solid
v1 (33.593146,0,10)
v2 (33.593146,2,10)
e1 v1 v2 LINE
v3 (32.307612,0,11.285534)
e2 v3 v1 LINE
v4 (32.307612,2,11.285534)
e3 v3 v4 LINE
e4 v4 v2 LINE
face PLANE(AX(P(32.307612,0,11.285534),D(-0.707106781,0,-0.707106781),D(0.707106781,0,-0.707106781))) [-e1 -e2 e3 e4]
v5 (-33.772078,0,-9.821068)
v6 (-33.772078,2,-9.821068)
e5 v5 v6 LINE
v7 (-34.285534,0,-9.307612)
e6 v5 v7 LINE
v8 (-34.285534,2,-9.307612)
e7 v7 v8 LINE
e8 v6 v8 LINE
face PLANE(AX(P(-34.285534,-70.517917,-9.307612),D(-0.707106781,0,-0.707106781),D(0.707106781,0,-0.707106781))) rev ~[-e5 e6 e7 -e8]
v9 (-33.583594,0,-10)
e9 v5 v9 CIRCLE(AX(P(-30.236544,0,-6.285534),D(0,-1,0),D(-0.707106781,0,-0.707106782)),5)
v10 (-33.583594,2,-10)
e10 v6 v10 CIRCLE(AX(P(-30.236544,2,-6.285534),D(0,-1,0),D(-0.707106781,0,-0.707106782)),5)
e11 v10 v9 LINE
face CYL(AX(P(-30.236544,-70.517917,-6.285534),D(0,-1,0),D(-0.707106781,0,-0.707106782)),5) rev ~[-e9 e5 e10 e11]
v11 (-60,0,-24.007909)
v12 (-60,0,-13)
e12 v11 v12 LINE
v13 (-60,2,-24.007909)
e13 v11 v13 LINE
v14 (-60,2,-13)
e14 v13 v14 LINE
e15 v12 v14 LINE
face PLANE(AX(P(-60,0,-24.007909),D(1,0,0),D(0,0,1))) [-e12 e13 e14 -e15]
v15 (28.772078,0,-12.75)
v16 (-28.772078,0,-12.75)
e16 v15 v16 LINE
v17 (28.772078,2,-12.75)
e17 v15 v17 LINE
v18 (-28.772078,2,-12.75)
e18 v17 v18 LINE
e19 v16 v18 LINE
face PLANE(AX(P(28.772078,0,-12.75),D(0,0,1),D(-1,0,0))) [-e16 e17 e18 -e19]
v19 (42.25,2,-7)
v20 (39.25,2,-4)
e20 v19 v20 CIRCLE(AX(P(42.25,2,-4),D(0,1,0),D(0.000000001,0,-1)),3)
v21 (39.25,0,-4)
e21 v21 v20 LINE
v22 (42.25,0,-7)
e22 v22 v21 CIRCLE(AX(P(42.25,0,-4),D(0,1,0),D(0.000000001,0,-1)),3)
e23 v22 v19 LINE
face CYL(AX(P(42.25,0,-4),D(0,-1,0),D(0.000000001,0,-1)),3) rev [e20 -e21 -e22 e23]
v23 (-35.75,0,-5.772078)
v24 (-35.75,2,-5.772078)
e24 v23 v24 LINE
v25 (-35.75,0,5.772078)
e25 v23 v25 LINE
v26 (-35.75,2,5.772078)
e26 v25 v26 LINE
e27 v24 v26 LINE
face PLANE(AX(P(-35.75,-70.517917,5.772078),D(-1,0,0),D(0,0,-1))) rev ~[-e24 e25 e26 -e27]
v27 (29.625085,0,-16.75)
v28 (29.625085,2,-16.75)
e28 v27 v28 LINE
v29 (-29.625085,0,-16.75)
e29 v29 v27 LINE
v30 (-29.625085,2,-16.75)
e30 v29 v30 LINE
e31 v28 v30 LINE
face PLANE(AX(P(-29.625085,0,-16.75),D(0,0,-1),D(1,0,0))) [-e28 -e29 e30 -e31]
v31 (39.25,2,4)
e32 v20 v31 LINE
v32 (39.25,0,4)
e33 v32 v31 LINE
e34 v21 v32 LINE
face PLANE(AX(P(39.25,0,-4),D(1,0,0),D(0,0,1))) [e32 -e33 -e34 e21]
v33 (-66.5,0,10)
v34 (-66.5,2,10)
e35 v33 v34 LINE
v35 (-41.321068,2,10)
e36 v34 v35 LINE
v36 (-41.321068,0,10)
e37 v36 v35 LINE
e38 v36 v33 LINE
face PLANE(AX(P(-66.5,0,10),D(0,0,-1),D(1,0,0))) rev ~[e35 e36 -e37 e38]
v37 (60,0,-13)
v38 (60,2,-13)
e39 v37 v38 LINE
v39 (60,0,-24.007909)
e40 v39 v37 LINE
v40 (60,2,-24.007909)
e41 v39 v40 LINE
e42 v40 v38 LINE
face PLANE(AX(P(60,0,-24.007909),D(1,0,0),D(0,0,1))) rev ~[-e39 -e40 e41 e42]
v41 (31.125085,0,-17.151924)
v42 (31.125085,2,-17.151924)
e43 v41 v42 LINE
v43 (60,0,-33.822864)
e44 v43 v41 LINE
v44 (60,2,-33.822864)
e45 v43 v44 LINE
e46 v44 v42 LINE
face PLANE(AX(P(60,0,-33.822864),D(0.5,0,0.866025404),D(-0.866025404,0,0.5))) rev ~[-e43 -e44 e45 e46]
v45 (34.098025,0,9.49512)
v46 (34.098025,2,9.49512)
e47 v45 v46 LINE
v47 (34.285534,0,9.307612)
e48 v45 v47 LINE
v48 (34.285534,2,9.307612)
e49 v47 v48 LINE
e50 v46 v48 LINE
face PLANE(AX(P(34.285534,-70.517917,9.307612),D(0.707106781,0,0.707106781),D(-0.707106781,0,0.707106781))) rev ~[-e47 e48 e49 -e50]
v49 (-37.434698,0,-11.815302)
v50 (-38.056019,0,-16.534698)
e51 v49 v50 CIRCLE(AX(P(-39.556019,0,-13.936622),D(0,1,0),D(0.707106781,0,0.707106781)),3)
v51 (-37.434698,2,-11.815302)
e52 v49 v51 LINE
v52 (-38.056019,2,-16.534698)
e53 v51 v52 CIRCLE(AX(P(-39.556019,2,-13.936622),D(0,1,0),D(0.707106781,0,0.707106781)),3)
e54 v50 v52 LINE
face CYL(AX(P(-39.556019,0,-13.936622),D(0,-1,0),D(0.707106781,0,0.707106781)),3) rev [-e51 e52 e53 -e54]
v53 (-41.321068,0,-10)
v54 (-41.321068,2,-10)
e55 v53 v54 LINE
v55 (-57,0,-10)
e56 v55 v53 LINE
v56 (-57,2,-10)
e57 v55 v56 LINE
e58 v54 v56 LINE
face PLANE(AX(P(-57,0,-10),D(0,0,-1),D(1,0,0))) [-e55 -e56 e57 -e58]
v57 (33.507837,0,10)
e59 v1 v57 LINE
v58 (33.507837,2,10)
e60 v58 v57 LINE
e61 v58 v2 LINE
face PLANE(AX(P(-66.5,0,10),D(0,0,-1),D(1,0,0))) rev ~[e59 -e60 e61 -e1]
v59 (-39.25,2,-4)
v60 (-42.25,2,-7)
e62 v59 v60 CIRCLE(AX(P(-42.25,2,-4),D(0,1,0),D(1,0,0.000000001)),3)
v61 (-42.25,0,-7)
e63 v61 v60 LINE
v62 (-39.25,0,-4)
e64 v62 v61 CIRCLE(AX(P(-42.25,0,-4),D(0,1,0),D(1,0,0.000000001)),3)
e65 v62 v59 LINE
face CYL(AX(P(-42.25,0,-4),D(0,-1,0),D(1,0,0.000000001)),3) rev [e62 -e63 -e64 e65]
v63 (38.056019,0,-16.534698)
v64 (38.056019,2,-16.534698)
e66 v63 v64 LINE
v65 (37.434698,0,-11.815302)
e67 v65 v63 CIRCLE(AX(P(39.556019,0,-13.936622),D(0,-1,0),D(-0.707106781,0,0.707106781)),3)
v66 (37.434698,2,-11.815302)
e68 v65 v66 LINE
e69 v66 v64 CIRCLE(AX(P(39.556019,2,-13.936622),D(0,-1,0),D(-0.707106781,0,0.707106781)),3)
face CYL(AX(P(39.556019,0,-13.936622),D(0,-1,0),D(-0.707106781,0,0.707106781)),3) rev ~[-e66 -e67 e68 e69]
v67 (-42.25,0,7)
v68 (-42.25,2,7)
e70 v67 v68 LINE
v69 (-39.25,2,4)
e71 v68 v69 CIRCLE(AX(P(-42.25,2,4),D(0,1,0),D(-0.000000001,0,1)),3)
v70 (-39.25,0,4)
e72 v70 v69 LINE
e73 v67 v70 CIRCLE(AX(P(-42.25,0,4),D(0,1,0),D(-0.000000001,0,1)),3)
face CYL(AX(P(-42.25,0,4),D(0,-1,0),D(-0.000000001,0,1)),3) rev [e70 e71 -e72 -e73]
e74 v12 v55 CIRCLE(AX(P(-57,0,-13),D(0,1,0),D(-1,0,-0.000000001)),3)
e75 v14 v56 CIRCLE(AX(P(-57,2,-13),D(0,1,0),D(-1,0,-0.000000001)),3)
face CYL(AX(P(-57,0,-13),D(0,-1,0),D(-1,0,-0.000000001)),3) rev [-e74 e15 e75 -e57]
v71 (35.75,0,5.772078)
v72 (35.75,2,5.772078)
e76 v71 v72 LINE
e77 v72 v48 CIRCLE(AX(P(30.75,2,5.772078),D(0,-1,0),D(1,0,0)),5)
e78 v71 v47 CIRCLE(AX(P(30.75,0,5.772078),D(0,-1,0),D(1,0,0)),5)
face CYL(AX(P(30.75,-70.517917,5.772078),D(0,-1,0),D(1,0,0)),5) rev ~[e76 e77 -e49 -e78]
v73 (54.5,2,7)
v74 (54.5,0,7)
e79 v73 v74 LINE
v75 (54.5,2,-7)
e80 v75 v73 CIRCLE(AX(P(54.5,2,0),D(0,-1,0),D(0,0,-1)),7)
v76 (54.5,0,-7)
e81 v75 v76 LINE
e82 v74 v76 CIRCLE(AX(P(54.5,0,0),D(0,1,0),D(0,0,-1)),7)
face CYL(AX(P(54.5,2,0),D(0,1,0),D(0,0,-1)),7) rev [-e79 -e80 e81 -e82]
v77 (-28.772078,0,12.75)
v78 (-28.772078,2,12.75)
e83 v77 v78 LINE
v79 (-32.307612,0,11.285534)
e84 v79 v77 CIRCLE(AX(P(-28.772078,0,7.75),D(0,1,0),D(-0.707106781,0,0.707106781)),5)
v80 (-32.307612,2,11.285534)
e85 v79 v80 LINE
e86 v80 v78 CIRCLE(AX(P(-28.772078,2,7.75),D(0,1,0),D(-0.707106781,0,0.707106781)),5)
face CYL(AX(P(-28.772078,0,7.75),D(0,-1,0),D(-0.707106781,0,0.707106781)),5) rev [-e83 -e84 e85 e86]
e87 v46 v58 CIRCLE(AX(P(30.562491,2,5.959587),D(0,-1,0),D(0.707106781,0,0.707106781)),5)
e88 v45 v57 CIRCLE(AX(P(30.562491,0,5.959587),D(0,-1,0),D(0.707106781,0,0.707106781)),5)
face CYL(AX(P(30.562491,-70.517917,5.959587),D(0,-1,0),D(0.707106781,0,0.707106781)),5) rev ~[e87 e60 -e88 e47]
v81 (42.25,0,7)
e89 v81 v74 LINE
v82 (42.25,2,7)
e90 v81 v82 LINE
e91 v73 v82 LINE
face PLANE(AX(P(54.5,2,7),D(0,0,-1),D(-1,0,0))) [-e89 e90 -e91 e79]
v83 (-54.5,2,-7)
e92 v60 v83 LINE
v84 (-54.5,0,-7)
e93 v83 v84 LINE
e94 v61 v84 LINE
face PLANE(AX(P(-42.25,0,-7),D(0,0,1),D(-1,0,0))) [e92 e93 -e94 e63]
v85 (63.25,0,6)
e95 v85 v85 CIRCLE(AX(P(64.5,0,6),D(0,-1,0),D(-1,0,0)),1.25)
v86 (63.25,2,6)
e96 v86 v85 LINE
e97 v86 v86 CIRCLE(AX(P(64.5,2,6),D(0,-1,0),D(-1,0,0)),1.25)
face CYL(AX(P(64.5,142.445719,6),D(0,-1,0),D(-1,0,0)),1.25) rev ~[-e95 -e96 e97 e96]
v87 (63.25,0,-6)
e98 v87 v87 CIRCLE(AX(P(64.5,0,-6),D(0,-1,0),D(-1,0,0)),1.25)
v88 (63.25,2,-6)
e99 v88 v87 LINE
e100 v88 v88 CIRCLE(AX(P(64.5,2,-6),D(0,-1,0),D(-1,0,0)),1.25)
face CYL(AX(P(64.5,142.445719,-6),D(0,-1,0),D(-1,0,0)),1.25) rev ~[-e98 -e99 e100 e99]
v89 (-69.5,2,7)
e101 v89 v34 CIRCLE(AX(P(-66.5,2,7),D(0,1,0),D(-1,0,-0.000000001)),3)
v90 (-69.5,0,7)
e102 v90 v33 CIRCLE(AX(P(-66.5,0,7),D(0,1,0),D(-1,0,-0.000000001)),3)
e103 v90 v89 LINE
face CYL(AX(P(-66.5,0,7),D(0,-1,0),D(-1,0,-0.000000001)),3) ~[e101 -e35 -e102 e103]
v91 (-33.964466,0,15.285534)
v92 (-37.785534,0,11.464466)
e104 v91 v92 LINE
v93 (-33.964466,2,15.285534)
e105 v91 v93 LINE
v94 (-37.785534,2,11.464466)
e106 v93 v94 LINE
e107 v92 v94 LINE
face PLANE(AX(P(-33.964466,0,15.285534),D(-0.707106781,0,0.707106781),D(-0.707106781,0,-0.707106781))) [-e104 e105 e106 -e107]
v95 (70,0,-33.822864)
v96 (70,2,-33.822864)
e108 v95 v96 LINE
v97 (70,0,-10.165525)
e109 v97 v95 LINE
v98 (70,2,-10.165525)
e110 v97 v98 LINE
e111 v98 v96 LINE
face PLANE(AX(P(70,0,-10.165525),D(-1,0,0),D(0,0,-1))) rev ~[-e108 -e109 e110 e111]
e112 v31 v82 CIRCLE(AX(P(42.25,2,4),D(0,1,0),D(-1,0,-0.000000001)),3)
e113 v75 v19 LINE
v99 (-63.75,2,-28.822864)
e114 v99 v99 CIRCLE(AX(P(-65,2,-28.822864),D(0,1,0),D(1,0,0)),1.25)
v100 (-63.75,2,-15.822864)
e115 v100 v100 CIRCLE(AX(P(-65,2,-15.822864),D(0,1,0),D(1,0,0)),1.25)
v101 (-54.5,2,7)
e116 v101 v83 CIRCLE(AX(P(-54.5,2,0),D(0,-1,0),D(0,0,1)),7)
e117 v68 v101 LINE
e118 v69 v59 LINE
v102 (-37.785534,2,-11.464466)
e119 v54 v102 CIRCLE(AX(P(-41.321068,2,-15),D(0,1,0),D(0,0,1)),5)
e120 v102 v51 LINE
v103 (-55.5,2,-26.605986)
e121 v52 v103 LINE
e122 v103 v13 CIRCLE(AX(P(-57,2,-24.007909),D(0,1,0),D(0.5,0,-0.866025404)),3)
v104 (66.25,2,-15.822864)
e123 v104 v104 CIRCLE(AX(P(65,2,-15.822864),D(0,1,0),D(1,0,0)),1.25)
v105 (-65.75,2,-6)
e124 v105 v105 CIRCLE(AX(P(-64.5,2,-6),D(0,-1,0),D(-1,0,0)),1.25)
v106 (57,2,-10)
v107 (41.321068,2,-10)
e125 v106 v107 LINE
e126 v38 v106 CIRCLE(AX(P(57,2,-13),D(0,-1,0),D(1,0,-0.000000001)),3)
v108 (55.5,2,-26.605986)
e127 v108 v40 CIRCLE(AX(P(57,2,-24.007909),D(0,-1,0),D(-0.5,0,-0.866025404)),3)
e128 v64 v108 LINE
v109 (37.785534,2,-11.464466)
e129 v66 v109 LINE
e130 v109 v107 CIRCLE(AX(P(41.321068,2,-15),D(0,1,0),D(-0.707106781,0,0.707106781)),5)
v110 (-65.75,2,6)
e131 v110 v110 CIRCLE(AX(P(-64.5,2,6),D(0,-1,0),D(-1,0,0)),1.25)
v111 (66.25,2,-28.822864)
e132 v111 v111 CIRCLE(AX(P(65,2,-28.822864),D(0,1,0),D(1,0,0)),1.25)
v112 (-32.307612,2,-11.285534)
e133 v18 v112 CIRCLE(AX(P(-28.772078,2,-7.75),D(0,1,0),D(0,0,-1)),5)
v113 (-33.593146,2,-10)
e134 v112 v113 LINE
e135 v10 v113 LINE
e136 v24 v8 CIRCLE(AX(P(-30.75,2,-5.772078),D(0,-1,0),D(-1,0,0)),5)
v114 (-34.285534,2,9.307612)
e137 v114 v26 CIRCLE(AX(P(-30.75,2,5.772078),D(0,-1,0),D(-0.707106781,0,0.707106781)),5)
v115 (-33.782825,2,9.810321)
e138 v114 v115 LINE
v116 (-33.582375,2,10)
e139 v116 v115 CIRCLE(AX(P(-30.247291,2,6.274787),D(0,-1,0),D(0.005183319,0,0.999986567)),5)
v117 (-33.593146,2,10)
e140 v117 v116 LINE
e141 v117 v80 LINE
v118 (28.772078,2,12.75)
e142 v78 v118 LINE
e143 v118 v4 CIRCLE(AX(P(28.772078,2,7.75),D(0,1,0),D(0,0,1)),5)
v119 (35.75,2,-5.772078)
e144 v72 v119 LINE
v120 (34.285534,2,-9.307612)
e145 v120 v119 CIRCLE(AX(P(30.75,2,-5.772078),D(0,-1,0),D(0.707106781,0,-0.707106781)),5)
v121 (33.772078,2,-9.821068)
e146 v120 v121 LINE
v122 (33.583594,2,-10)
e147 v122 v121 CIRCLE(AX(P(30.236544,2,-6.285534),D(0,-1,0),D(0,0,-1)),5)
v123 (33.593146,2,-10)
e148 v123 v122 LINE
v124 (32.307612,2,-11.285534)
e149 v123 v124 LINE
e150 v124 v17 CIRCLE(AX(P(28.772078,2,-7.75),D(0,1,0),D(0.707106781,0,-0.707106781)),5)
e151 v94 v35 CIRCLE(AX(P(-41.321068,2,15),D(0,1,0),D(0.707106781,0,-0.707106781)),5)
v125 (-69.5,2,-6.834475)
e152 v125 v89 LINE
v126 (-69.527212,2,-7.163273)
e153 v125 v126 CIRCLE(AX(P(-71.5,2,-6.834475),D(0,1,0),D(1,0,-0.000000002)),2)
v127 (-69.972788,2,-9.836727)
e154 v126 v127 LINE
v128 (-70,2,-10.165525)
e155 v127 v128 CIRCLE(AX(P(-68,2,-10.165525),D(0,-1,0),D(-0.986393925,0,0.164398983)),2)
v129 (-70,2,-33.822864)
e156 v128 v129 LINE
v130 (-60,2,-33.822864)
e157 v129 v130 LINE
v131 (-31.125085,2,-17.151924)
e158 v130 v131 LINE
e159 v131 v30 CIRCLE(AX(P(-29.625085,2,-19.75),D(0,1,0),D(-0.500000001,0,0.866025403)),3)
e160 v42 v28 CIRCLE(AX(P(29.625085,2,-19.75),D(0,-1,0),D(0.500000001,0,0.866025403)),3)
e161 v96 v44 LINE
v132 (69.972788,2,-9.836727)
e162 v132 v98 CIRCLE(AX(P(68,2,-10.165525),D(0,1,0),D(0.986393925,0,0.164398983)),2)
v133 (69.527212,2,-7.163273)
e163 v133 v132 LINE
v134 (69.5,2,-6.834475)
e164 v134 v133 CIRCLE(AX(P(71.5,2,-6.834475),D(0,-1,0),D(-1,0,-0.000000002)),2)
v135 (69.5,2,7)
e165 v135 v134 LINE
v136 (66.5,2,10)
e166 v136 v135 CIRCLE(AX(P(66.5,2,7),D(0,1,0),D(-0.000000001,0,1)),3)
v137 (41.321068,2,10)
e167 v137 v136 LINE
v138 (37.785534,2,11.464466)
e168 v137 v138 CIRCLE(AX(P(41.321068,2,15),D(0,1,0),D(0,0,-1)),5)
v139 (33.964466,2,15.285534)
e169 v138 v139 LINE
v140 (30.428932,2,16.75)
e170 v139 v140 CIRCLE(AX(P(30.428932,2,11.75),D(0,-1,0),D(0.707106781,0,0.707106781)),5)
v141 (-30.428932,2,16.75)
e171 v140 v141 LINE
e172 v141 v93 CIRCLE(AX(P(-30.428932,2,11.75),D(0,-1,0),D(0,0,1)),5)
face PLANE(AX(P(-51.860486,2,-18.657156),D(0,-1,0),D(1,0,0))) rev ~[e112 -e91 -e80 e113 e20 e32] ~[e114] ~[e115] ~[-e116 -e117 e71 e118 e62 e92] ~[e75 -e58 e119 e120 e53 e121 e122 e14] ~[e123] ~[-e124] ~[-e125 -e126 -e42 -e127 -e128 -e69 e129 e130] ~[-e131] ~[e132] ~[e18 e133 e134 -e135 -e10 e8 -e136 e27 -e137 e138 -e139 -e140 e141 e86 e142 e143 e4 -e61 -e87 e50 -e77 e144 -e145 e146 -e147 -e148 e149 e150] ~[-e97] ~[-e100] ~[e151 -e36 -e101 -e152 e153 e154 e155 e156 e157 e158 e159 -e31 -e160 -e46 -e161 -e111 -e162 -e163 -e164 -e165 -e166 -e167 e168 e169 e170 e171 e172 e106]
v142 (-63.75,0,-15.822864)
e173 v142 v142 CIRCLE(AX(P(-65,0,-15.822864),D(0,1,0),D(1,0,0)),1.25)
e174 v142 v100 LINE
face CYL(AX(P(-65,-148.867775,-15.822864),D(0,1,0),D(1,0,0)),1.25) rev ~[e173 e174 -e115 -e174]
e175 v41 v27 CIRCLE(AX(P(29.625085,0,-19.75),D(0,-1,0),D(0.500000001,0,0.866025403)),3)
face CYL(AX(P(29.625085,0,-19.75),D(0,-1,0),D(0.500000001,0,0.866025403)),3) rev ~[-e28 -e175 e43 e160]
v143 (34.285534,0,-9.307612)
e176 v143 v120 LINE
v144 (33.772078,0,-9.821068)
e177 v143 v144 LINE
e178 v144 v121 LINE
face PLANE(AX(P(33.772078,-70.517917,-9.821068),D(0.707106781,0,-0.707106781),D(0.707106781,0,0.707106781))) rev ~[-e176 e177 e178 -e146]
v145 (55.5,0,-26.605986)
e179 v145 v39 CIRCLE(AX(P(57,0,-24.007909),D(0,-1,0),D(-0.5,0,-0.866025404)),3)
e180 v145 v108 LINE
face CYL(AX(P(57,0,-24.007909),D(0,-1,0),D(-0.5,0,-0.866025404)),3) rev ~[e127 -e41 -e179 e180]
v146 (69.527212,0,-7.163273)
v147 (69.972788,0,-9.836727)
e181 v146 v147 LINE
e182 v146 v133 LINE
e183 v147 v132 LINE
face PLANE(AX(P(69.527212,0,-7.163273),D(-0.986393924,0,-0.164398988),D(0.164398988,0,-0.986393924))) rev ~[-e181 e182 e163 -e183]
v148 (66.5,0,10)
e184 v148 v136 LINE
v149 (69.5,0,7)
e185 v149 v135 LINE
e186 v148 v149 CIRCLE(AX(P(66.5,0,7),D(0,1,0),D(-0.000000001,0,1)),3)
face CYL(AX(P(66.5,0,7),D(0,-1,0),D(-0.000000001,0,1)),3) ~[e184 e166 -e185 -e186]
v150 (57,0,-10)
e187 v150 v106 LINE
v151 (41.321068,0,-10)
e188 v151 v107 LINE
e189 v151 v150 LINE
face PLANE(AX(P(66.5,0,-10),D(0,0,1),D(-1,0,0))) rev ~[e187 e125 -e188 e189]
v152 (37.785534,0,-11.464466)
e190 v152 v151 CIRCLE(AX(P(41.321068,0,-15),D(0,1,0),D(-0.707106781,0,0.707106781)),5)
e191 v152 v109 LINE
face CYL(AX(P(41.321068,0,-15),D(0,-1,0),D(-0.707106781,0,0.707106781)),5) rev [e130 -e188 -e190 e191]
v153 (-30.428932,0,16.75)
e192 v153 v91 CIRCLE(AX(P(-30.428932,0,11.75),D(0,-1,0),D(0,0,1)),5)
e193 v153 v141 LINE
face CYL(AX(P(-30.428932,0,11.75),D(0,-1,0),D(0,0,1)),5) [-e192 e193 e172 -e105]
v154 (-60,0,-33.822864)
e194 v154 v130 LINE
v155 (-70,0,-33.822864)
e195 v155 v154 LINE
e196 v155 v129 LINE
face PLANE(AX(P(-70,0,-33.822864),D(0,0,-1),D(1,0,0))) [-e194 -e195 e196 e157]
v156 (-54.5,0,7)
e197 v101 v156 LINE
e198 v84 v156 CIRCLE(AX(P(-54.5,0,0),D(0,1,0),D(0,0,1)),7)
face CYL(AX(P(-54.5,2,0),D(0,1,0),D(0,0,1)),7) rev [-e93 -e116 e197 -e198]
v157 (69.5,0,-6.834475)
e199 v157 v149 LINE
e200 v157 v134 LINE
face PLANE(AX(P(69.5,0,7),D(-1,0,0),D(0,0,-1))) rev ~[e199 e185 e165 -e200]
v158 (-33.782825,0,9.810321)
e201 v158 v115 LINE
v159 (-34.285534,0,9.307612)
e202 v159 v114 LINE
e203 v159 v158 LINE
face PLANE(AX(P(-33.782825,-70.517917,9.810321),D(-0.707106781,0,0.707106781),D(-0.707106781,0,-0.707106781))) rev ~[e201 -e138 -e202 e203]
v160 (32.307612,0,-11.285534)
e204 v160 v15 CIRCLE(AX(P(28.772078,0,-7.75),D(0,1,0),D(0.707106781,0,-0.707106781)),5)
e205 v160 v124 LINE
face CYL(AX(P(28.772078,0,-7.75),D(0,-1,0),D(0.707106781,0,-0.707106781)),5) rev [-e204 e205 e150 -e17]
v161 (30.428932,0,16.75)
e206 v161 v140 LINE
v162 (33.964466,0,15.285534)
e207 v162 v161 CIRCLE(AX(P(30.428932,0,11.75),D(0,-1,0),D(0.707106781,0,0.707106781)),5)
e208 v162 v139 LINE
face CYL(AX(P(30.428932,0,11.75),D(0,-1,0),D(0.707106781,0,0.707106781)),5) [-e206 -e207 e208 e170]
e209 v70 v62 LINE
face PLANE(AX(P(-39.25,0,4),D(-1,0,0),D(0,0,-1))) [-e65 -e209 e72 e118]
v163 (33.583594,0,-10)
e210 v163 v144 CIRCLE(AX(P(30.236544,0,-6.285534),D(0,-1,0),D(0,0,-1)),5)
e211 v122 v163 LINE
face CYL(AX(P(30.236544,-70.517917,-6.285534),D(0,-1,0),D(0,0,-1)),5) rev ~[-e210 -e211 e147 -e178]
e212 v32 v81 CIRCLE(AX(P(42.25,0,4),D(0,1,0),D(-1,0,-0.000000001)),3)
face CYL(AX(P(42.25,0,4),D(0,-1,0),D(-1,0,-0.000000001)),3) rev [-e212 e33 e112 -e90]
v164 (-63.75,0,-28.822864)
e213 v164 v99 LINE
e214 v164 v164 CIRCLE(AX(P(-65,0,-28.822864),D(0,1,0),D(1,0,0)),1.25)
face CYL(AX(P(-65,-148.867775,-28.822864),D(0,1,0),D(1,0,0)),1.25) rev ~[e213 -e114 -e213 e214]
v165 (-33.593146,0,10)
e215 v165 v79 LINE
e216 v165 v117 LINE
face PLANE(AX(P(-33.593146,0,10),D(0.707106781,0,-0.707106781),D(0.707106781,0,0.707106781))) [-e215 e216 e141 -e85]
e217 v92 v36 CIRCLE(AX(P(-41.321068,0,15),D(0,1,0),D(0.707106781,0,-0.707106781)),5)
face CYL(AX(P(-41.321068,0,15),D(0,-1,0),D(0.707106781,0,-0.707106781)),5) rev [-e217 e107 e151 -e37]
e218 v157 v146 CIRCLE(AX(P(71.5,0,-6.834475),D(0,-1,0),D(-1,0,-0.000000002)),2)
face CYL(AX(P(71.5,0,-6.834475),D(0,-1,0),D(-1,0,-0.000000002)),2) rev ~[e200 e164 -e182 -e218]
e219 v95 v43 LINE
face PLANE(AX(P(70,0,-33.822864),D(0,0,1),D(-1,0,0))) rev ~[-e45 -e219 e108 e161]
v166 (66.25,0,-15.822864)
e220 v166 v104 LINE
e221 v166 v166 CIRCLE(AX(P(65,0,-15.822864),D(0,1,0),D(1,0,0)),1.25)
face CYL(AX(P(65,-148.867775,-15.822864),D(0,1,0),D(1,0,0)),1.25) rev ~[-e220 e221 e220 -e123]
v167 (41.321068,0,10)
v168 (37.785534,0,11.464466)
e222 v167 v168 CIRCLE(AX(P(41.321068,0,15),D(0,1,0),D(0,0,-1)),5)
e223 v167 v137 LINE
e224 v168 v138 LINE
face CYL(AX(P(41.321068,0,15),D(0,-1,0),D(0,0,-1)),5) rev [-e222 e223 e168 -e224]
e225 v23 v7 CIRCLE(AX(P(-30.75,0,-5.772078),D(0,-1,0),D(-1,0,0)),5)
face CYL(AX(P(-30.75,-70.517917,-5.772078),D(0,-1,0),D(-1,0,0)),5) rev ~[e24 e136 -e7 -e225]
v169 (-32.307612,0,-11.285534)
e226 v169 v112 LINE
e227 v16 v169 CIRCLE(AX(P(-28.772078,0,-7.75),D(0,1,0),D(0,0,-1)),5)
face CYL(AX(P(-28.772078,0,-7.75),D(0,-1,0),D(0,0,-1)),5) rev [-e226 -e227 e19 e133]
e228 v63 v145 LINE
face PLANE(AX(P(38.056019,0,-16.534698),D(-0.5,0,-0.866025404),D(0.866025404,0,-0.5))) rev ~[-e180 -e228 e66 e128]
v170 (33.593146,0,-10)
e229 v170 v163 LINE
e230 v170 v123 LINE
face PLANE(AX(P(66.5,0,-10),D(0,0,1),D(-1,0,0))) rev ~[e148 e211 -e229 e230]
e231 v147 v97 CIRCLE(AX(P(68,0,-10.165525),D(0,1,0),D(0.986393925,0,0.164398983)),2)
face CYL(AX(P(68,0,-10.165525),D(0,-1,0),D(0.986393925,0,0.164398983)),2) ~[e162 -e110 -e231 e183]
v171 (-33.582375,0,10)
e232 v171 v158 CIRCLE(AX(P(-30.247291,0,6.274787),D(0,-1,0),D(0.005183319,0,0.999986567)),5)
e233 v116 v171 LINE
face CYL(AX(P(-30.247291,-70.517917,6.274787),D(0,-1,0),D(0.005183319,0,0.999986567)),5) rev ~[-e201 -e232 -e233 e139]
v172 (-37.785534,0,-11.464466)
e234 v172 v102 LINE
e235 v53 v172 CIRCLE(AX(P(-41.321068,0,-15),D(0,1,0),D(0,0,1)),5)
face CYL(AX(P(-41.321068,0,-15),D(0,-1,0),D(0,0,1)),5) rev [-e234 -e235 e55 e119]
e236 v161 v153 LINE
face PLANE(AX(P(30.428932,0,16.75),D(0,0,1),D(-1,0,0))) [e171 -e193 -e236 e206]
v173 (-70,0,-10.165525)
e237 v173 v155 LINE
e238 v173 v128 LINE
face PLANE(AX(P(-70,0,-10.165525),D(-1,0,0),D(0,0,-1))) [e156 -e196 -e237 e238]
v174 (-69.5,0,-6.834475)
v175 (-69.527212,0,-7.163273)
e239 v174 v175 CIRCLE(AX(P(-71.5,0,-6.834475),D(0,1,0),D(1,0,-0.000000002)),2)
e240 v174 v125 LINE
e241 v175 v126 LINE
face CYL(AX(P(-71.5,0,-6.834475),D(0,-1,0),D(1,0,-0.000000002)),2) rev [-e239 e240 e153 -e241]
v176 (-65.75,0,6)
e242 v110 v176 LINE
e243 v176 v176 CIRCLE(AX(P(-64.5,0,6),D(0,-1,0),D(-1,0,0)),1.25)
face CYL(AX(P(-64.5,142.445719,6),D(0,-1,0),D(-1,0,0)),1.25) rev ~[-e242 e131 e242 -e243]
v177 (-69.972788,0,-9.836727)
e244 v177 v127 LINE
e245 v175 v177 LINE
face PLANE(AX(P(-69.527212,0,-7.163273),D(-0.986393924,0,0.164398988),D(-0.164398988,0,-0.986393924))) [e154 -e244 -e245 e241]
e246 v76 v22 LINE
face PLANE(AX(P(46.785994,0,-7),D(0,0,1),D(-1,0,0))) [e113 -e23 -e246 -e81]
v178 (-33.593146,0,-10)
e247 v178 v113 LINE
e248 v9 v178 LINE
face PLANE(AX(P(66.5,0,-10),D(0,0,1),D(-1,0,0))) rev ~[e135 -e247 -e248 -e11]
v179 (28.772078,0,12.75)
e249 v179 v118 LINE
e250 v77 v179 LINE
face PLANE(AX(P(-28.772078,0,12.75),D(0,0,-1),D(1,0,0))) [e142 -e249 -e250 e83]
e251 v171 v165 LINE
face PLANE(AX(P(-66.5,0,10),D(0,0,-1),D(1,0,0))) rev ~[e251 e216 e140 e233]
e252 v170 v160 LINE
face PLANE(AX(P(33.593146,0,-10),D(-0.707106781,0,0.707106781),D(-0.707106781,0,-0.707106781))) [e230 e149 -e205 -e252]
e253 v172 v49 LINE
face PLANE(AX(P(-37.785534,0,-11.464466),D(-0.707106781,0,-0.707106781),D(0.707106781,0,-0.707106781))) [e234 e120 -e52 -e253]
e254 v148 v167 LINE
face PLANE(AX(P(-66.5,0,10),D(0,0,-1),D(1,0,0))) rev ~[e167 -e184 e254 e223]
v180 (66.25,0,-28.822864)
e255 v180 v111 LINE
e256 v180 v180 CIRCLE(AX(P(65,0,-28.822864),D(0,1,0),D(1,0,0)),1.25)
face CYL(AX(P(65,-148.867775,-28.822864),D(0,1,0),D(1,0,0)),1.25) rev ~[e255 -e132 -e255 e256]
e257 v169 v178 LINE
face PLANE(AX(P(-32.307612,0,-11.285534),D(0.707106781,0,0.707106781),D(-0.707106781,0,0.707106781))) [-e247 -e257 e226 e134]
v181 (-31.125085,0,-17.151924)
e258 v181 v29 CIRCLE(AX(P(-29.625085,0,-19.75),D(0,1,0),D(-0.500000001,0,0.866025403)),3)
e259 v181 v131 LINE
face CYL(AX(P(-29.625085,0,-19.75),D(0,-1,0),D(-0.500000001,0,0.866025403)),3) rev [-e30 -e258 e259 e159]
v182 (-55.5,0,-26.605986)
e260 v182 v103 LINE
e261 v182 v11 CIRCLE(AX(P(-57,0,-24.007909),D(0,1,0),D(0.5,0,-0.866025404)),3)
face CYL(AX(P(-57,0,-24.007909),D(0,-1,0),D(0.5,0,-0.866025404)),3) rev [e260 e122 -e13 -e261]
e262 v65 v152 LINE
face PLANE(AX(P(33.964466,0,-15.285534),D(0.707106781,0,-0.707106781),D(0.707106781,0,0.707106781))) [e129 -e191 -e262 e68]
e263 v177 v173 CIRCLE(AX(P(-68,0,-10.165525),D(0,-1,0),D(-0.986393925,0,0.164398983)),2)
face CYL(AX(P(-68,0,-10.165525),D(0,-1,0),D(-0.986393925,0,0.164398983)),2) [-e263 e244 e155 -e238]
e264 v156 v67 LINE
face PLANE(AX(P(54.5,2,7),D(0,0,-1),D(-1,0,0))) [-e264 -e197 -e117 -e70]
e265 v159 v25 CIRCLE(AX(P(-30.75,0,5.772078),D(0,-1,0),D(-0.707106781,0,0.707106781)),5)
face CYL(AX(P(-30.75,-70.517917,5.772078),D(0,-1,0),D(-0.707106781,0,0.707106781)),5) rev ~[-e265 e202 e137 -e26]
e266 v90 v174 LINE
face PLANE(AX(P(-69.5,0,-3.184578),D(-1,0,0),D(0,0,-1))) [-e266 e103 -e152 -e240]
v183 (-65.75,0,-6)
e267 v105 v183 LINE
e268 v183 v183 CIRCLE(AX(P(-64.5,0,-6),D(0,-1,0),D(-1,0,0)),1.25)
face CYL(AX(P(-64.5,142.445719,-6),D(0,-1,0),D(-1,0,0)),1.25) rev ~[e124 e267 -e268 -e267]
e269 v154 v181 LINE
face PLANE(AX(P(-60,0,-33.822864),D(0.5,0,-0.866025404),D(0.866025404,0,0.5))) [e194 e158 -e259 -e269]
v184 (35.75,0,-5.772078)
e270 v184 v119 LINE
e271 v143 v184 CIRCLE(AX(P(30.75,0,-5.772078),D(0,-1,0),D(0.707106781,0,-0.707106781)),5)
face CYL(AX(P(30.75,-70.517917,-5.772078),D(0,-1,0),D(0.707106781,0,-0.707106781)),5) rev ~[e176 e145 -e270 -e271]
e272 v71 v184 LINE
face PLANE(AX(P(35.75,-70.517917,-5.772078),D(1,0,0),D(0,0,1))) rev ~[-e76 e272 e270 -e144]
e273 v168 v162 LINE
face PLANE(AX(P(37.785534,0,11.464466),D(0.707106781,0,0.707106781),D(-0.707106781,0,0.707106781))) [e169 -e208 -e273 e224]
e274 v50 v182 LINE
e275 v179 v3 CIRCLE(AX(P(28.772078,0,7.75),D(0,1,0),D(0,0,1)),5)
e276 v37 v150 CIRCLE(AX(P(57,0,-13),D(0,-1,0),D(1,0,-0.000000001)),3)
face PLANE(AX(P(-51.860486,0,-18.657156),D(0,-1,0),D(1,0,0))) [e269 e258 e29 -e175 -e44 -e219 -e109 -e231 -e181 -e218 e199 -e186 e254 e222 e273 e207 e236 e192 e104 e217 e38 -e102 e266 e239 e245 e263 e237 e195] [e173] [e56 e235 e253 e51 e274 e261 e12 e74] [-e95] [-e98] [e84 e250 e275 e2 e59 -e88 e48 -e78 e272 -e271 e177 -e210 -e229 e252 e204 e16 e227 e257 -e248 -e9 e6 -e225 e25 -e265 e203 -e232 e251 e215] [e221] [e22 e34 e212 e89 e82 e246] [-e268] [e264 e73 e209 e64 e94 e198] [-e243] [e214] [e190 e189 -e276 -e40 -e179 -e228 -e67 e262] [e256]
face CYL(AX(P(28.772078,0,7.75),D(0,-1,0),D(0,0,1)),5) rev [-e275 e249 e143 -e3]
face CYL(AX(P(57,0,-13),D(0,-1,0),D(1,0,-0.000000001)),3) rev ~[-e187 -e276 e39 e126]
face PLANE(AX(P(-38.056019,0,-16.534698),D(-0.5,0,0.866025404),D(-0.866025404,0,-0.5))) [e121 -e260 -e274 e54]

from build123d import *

# Parameters (mm, degrees)
EXTRUDE_1_DEPTH          = 2
HOLE_WIZARD_1_D          = 2.5
CUT_EXTRUDE_1_DEPTH      = 71.244216844
EXTRUDE_2_DEPTH          = 2
CUT_EXTRUDE_2_DEPTH      = 71.244216844
CUT_EXTRUDE_2_DEPTH_BACK = 71.244216844
EXTRUDE_3_DEPTH          = 2
CUT_EXTRUDE_3_DEPTH      = 72.517917335
CUT_EXTRUDE_3_DEPTH_BACK = 72.517917335
EXTRUDE_4_DEPTH          = 2
HOLE_WIZARD_2_D          = 2.5


with BuildPart() as part:
    # 草图1 → 凸台-拉伸1 (new body)
    with BuildSketch(Plane(origin=(0, 0, 0), x_dir=(1, 0, 0), z_dir=(0, 1, 0))):
        with BuildLine():
            Line((66.5, 10), (-66.5, 10))
            ThreePointArc((-66.5, 10), (-68.621320344, 9.121320344), (-69.5, 7))
            Line((-69.5, 7), (-69.5, -7))
            ThreePointArc((-69.5, -7), (-68.621320344, -9.121320344), (-66.5, -10))
            Line((-66.5, -10), (66.5, -10))
            ThreePointArc((66.5, -10), (68.621320344, -9.121320344), (69.5, -7))
            Line((69.5, -7), (69.5, 7))
            ThreePointArc((69.5, 7), (68.621320344, 9.121320344), (66.5, 10))
        make_face()
    extrude(amount=EXTRUDE_1_DEPTH)

    # 孔1 (through all)
    with Locations(Plane(origin=(0, 2, 0), x_dir=(1, 0, 0), z_dir=(0, 1, 0))):
        with Locations((-64.5, 6), (-64.5, -6), (64.5, -6), (64.5, 6)):
            Hole(HOLE_WIZARD_1_D / 2)

    # 草图5 → 切除-拉伸1 (cut, through all)
    with BuildSketch(Plane(origin=(0, 2, 0), x_dir=(1, 0, 0), z_dir=(0, 1, 0))):
        with BuildLine():
            Line((-54.5, 7), (54.5, 7))
            ThreePointArc((54.5, 7), (61.5, 0), (54.5, -7))
            Line((54.5, -7), (-54.5, -7))
            ThreePointArc((-54.5, -7), (-61.5, 0), (-54.5, 7))
        make_face()
    extrude(amount=-CUT_EXTRUDE_1_DEPTH, mode=Mode.SUBTRACT)

    # 草图6 → 凸台-拉伸2 (add)
    with BuildSketch(Plane.XZ):
        with BuildLine():
            Line((-39.249952973, -9.999988019), (39.249952973, -9.999988019))
            Line((39.249952973, -9.999988019), (46.785993788, -7))
            Line((46.785993788, -7), (42.25, -7))
            ThreePointArc((42.25, -7), (40.128679656, -6.121320344), (39.25, -4))
            Line((39.25, -4), (39.25, 4))
            ThreePointArc((39.25, 4), (40.128679656, 6.121320344), (42.25, 7))
            Line((42.25, 7), (46.785993788, 7))
            Line((46.785993788, 7), (39.25, 10))
            Line((39.25, 10), (-39.25, 10))
            Line((-39.25, 10), (-46.786070913, 7))
            Line((-46.786070913, 7), (-42.25, 7))
            ThreePointArc((-42.25, 7), (-40.128679656, 6.121320344), (-39.25, 4))
            Line((-39.25, 4), (-39.25, -4))
            ThreePointArc((-39.25, -4), (-40.128679656, -6.121320344), (-42.25, -7))
            Line((-42.25, -7), (-46.49444439, -7))
            Line((-46.49444439, -7), (-39.249952973, -9.999988019))
        make_face()
    extrude(amount=-EXTRUDE_2_DEPTH)

    # 草图7 → 切除-拉伸2 (cut, two sides: drawn at the far end of the back side and taken through both)
    with BuildSketch(Plane.XZ.offset(-CUT_EXTRUDE_2_DEPTH_BACK)):
        with BuildLine():
            Line((34.25, -1.5), (-34.25, -1.5))
            ThreePointArc((-34.25, -1.5), (-35.75, 0), (-34.25, 1.5))
            Line((-34.25, 1.5), (34.25, 1.5))
            ThreePointArc((34.25, 1.5), (35.75, 0), (34.25, -1.5))
        make_face()
        with BuildLine():
            Line((34.25, 4), (-34.25, 4))
            ThreePointArc((-34.25, 4), (-35.75, 5.5), (-34.25, 7))
            Line((-34.25, 7), (34.25, 7))
            ThreePointArc((34.25, 7), (35.75, 5.5), (34.25, 4))
        make_face()
        with BuildLine():
            Line((34.25, -7), (-34.25, -7))
            ThreePointArc((-34.25, -7), (-35.75, -5.5), (-34.25, -4))
            Line((-34.25, -4), (34.25, -4))
            ThreePointArc((34.25, -4), (35.75, -5.5), (34.25, -7))
        make_face()
    extrude(amount=CUT_EXTRUDE_2_DEPTH + CUT_EXTRUDE_2_DEPTH_BACK, mode=Mode.SUBTRACT)

    # 草图9 → 凸台-拉伸3 (add)
    with BuildSketch(Plane(origin=(0, 0, 0), x_dir=(-1, 0, 0), z_dir=(0, -1, 0))):
        with BuildLine():
            ThreePointArc((37.785533906, -11.464466094), (39.40765065, -10.380602337), (41.321067812, -10))
            Line((41.321067812, -10), (39.25, -10))
            Line((39.25, -10), (33.593145751, -10))
            Line((33.593145751, -10), (32.307611845, -11.285533906))
            ThreePointArc((32.307611845, -11.285533906), (30.6854951, -12.369397663), (28.772077939, -12.75))
            Line((28.772077939, -12.75), (-28.772077939, -12.75))
            ThreePointArc((-28.772077939, -12.75), (-30.6854951, -12.369397663), (-32.307611845, -11.285533906))
            Line((-32.307611845, -11.285533906), (-33.593145751, -10))
            Line((-33.593145751, -10), (-39.25, -10))
            Line((-39.25, -10), (-41.321067812, -10))
            ThreePointArc((-41.321067812, -10), (-39.40765065, -10.380602337), (-37.785533906, -11.464466094))
            Line((-37.785533906, -11.464466094), (-33.964466094, -15.285533906))
            ThreePointArc((-33.964466094, -15.285533906), (-32.34234935, -16.369397663), (-30.428932188, -16.75))
            Line((-30.428932188, -16.75), (30.428932188, -16.75))
            ThreePointArc((30.428932188, -16.75), (32.34234935, -16.369397663), (33.964466094, -15.285533906))
            Line((33.964466094, -15.285533906), (37.785533906, -11.464466094))
        make_face()
        with BuildLine():
            Line((32.307611845, 11.285533906), (33.593145751, 10))
            Line((33.593145751, 10), (39.25, 10))
            Line((39.25, 10), (41.321067812, 10))
            ThreePointArc((41.321067812, 10), (39.40765065, 10.380602337), (37.785533906, 11.464466094))
            Line((37.785533906, 11.464466094), (33.964466094, 15.285533906))
            ThreePointArc((33.964466094, 15.285533906), (32.34234935, 16.369397663), (30.428932188, 16.75))
            Line((30.428932188, 16.75), (-30.428932188, 16.75))
            ThreePointArc((-30.428932188, 16.75), (-32.34234935, 16.369397663), (-33.964466094, 15.285533906))
            Line((-33.964466094, 15.285533906), (-37.785533906, 11.464466094))
            ThreePointArc((-37.785533906, 11.464466094), (-39.40765065, 10.380602337), (-41.321067812, 10))
            Line((-41.321067812, 10), (-39.25, 10))
            Line((-39.25, 10), (-33.593145751, 10))
            Line((-33.593145751, 10), (-32.307611845, 11.285533906))
            ThreePointArc((-32.307611845, 11.285533906), (-30.6854951, 12.369397663), (-28.772077939, 12.75))
            Line((-28.772077939, 12.75), (28.772077939, 12.75))
            ThreePointArc((28.772077939, 12.75), (30.6854951, 12.369397663), (32.307611845, 11.285533906))
        make_face()
    extrude(amount=-EXTRUDE_3_DEPTH)

    # 草图10 → 切除-拉伸3 (cut, two sides: drawn at the far end of the back side and taken through both)
    with BuildSketch(Plane(origin=(0, 2, 0), x_dir=(1, 0, 0), z_dir=(0, 1, 0)).offset(-CUT_EXTRUDE_3_DEPTH_BACK)):
        with BuildLine():
            Line((34.285533906, -9.307611845), (34.098025299, -9.495120452))
            ThreePointArc((34.098025299, -9.495120452), (32.487874075, -10.574009752), (30.588407989, -10.959519378))
            Line((30.588407989, -10.959519378), (-30.221374051, -11.274720124))
            ThreePointArc((-30.221374051, -11.274720124), (-32.148729436, -10.899128383), (-33.782824553, -9.810321198))
            Line((-33.782824553, -9.810321198), (-34.285533906, -9.307611845))
            ThreePointArc((-34.285533906, -9.307611845), (-35.369397663, -7.6854951), (-35.75, -5.772077939))
            Line((-35.75, -5.772077939), (-35.75, 5.772077939))
            ThreePointArc((-35.75, 5.772077939), (-35.369397663, 7.6854951), (-34.285533906, 9.307611845))
            Line((-34.285533906, 9.307611845), (-33.772077939, 9.821067812))
            ThreePointArc((-33.772077939, 9.821067812), (-32.149961195, 10.904931568), (-30.236544033, 11.285533906))
            Line((-30.236544033, 11.285533906), (30.236544033, 11.285533906))
            ThreePointArc((30.236544033, 11.285533906), (32.149961195, 10.904931568), (33.772077939, 9.821067812))
            Line((33.772077939, 9.821067812), (34.285533906, 9.307611845))
            ThreePointArc((34.285533906, 9.307611845), (35.369397663, 7.6854951), (35.75, 5.772077939))
            Line((35.75, 5.772077939), (35.75, -5.772077939))
            ThreePointArc((35.75, -5.772077939), (35.369397663, -7.6854951), (34.285533906, -9.307611845))
        make_face()
    extrude(amount=CUT_EXTRUDE_3_DEPTH + CUT_EXTRUDE_3_DEPTH_BACK, mode=Mode.SUBTRACT)

    # 草图11 → 凸台-拉伸4 (add)
    with BuildSketch(Plane.XZ):
        with BuildLine():
            Line((-70, -10.165525061), (-70, -33.822863961))
            Line((-70, -33.822863961), (-60, -33.822863961))
            Line((-60, -33.822863961), (-31.125084611, -17.151923789))
            ThreePointArc((-31.125084611, -17.151923789), (-30.401541746, -16.852222521), (-29.625084611, -16.75))
            Line((-29.625084611, -16.75), (-21.789130896, -16.75))
            Line((-21.789130896, -16.75), (-32.229816093, -13.630777579))
            Line((-32.229816093, -13.630777579), (-39.940851874, -9.309148126))
            Line((-39.940851874, -9.309148126), (-37.434698294, -11.815301706))
            ThreePointArc((-37.434698294, -11.815301706), (-36.581684053, -14.328200626), (-38.056018637, -16.534698261))
            Line((-38.056018637, -16.534698261), (-55.5, -26.605985597))
            ThreePointArc((-55.5, -26.605985597), (-58.5, -26.605985597), (-60, -24.007909385))
            Line((-60, -24.007909385), (-60, -13))
            ThreePointArc((-60, -13), (-59.121320344, -10.878679656), (-57, -10))
            Line((-57, -10), (-53.184301675, -10))
            Line((-53.184301675, -10), (-53.184301675, -8.509493359))
            Line((-53.184301675, -8.509493359), (-68.301691744, -8.509493359))
            Line((-68.301691744, -8.509493359), (-69.5, -3.184578382))
            Line((-69.5, -3.184578382), (-69.5, -6.834474939))
            ThreePointArc((-69.5, -6.834474939), (-69.506814648, -6.999436002), (-69.527212152, -7.163272914))
            Line((-69.527212152, -7.163272914), (-69.972787848, -9.836727086))
            ThreePointArc((-69.972787848, -9.836727086), (-69.993185352, -10.000563998), (-70, -10.165525061))
        make_face()
        with BuildLine():
            Line((68.301691744, -8.509493359), (69.5, -3.534682622))
            Line((69.5, -3.534682622), (69.5, -6.834474939))
            ThreePointArc((69.5, -6.834474939), (69.506814648, -6.999436002), (69.527212152, -7.163272914))
            Line((69.527212152, -7.163272914), (69.972787848, -9.836727086))
            ThreePointArc((69.972787848, -9.836727086), (69.993185352, -10.000563998), (70, -10.165525061))
            Line((70, -10.165525061), (70, -33.822863961))
            Line((70, -33.822863961), (60, -33.822863961))
            Line((60, -33.822863961), (31.125084611, -17.151923789))
            ThreePointArc((31.125084611, -17.151923789), (30.401541746, -16.852222521), (29.625084611, -16.75))
            Line((29.625084611, -16.75), (21.789130896, -16.75))
            Line((21.789130896, -16.75), (32.229816093, -13.630777579))
            Line((32.229816093, -13.630777579), (39.940851874, -9.309148126))
            Line((39.940851874, -9.309148126), (37.434698294, -11.815301706))
            ThreePointArc((37.434698294, -11.815301706), (36.581684053, -14.328200626), (38.056018637, -16.534698261))
            Line((38.056018637, -16.534698261), (55.5, -26.605985597))
            ThreePointArc((55.5, -26.605985597), (58.5, -26.605985597), (60, -24.007909385))
            Line((60, -24.007909385), (60, -13))
            ThreePointArc((60, -13), (59.121320344, -10.878679656), (57, -10))
            Line((57, -10), (53.184301675, -10))
            Line((53.184301675, -10), (53.184301675, -8.509493359))
            Line((53.184301675, -8.509493359), (68.301691744, -8.509493359))
        make_face()
    extrude(amount=-EXTRUDE_4_DEPTH)

    # 孔2 (through all)
    with Locations(Plane(origin=(0, 0, 0), x_dir=(-1, 0, 0), z_dir=(0, -1, 0))):
        with Locations((65, 15.822863961), (65, 28.822863961), (-65, 15.822863961), (-65, 28.822863961)):
            Hole(HOLE_WIZARD_2_D / 2)


solid = part.part
